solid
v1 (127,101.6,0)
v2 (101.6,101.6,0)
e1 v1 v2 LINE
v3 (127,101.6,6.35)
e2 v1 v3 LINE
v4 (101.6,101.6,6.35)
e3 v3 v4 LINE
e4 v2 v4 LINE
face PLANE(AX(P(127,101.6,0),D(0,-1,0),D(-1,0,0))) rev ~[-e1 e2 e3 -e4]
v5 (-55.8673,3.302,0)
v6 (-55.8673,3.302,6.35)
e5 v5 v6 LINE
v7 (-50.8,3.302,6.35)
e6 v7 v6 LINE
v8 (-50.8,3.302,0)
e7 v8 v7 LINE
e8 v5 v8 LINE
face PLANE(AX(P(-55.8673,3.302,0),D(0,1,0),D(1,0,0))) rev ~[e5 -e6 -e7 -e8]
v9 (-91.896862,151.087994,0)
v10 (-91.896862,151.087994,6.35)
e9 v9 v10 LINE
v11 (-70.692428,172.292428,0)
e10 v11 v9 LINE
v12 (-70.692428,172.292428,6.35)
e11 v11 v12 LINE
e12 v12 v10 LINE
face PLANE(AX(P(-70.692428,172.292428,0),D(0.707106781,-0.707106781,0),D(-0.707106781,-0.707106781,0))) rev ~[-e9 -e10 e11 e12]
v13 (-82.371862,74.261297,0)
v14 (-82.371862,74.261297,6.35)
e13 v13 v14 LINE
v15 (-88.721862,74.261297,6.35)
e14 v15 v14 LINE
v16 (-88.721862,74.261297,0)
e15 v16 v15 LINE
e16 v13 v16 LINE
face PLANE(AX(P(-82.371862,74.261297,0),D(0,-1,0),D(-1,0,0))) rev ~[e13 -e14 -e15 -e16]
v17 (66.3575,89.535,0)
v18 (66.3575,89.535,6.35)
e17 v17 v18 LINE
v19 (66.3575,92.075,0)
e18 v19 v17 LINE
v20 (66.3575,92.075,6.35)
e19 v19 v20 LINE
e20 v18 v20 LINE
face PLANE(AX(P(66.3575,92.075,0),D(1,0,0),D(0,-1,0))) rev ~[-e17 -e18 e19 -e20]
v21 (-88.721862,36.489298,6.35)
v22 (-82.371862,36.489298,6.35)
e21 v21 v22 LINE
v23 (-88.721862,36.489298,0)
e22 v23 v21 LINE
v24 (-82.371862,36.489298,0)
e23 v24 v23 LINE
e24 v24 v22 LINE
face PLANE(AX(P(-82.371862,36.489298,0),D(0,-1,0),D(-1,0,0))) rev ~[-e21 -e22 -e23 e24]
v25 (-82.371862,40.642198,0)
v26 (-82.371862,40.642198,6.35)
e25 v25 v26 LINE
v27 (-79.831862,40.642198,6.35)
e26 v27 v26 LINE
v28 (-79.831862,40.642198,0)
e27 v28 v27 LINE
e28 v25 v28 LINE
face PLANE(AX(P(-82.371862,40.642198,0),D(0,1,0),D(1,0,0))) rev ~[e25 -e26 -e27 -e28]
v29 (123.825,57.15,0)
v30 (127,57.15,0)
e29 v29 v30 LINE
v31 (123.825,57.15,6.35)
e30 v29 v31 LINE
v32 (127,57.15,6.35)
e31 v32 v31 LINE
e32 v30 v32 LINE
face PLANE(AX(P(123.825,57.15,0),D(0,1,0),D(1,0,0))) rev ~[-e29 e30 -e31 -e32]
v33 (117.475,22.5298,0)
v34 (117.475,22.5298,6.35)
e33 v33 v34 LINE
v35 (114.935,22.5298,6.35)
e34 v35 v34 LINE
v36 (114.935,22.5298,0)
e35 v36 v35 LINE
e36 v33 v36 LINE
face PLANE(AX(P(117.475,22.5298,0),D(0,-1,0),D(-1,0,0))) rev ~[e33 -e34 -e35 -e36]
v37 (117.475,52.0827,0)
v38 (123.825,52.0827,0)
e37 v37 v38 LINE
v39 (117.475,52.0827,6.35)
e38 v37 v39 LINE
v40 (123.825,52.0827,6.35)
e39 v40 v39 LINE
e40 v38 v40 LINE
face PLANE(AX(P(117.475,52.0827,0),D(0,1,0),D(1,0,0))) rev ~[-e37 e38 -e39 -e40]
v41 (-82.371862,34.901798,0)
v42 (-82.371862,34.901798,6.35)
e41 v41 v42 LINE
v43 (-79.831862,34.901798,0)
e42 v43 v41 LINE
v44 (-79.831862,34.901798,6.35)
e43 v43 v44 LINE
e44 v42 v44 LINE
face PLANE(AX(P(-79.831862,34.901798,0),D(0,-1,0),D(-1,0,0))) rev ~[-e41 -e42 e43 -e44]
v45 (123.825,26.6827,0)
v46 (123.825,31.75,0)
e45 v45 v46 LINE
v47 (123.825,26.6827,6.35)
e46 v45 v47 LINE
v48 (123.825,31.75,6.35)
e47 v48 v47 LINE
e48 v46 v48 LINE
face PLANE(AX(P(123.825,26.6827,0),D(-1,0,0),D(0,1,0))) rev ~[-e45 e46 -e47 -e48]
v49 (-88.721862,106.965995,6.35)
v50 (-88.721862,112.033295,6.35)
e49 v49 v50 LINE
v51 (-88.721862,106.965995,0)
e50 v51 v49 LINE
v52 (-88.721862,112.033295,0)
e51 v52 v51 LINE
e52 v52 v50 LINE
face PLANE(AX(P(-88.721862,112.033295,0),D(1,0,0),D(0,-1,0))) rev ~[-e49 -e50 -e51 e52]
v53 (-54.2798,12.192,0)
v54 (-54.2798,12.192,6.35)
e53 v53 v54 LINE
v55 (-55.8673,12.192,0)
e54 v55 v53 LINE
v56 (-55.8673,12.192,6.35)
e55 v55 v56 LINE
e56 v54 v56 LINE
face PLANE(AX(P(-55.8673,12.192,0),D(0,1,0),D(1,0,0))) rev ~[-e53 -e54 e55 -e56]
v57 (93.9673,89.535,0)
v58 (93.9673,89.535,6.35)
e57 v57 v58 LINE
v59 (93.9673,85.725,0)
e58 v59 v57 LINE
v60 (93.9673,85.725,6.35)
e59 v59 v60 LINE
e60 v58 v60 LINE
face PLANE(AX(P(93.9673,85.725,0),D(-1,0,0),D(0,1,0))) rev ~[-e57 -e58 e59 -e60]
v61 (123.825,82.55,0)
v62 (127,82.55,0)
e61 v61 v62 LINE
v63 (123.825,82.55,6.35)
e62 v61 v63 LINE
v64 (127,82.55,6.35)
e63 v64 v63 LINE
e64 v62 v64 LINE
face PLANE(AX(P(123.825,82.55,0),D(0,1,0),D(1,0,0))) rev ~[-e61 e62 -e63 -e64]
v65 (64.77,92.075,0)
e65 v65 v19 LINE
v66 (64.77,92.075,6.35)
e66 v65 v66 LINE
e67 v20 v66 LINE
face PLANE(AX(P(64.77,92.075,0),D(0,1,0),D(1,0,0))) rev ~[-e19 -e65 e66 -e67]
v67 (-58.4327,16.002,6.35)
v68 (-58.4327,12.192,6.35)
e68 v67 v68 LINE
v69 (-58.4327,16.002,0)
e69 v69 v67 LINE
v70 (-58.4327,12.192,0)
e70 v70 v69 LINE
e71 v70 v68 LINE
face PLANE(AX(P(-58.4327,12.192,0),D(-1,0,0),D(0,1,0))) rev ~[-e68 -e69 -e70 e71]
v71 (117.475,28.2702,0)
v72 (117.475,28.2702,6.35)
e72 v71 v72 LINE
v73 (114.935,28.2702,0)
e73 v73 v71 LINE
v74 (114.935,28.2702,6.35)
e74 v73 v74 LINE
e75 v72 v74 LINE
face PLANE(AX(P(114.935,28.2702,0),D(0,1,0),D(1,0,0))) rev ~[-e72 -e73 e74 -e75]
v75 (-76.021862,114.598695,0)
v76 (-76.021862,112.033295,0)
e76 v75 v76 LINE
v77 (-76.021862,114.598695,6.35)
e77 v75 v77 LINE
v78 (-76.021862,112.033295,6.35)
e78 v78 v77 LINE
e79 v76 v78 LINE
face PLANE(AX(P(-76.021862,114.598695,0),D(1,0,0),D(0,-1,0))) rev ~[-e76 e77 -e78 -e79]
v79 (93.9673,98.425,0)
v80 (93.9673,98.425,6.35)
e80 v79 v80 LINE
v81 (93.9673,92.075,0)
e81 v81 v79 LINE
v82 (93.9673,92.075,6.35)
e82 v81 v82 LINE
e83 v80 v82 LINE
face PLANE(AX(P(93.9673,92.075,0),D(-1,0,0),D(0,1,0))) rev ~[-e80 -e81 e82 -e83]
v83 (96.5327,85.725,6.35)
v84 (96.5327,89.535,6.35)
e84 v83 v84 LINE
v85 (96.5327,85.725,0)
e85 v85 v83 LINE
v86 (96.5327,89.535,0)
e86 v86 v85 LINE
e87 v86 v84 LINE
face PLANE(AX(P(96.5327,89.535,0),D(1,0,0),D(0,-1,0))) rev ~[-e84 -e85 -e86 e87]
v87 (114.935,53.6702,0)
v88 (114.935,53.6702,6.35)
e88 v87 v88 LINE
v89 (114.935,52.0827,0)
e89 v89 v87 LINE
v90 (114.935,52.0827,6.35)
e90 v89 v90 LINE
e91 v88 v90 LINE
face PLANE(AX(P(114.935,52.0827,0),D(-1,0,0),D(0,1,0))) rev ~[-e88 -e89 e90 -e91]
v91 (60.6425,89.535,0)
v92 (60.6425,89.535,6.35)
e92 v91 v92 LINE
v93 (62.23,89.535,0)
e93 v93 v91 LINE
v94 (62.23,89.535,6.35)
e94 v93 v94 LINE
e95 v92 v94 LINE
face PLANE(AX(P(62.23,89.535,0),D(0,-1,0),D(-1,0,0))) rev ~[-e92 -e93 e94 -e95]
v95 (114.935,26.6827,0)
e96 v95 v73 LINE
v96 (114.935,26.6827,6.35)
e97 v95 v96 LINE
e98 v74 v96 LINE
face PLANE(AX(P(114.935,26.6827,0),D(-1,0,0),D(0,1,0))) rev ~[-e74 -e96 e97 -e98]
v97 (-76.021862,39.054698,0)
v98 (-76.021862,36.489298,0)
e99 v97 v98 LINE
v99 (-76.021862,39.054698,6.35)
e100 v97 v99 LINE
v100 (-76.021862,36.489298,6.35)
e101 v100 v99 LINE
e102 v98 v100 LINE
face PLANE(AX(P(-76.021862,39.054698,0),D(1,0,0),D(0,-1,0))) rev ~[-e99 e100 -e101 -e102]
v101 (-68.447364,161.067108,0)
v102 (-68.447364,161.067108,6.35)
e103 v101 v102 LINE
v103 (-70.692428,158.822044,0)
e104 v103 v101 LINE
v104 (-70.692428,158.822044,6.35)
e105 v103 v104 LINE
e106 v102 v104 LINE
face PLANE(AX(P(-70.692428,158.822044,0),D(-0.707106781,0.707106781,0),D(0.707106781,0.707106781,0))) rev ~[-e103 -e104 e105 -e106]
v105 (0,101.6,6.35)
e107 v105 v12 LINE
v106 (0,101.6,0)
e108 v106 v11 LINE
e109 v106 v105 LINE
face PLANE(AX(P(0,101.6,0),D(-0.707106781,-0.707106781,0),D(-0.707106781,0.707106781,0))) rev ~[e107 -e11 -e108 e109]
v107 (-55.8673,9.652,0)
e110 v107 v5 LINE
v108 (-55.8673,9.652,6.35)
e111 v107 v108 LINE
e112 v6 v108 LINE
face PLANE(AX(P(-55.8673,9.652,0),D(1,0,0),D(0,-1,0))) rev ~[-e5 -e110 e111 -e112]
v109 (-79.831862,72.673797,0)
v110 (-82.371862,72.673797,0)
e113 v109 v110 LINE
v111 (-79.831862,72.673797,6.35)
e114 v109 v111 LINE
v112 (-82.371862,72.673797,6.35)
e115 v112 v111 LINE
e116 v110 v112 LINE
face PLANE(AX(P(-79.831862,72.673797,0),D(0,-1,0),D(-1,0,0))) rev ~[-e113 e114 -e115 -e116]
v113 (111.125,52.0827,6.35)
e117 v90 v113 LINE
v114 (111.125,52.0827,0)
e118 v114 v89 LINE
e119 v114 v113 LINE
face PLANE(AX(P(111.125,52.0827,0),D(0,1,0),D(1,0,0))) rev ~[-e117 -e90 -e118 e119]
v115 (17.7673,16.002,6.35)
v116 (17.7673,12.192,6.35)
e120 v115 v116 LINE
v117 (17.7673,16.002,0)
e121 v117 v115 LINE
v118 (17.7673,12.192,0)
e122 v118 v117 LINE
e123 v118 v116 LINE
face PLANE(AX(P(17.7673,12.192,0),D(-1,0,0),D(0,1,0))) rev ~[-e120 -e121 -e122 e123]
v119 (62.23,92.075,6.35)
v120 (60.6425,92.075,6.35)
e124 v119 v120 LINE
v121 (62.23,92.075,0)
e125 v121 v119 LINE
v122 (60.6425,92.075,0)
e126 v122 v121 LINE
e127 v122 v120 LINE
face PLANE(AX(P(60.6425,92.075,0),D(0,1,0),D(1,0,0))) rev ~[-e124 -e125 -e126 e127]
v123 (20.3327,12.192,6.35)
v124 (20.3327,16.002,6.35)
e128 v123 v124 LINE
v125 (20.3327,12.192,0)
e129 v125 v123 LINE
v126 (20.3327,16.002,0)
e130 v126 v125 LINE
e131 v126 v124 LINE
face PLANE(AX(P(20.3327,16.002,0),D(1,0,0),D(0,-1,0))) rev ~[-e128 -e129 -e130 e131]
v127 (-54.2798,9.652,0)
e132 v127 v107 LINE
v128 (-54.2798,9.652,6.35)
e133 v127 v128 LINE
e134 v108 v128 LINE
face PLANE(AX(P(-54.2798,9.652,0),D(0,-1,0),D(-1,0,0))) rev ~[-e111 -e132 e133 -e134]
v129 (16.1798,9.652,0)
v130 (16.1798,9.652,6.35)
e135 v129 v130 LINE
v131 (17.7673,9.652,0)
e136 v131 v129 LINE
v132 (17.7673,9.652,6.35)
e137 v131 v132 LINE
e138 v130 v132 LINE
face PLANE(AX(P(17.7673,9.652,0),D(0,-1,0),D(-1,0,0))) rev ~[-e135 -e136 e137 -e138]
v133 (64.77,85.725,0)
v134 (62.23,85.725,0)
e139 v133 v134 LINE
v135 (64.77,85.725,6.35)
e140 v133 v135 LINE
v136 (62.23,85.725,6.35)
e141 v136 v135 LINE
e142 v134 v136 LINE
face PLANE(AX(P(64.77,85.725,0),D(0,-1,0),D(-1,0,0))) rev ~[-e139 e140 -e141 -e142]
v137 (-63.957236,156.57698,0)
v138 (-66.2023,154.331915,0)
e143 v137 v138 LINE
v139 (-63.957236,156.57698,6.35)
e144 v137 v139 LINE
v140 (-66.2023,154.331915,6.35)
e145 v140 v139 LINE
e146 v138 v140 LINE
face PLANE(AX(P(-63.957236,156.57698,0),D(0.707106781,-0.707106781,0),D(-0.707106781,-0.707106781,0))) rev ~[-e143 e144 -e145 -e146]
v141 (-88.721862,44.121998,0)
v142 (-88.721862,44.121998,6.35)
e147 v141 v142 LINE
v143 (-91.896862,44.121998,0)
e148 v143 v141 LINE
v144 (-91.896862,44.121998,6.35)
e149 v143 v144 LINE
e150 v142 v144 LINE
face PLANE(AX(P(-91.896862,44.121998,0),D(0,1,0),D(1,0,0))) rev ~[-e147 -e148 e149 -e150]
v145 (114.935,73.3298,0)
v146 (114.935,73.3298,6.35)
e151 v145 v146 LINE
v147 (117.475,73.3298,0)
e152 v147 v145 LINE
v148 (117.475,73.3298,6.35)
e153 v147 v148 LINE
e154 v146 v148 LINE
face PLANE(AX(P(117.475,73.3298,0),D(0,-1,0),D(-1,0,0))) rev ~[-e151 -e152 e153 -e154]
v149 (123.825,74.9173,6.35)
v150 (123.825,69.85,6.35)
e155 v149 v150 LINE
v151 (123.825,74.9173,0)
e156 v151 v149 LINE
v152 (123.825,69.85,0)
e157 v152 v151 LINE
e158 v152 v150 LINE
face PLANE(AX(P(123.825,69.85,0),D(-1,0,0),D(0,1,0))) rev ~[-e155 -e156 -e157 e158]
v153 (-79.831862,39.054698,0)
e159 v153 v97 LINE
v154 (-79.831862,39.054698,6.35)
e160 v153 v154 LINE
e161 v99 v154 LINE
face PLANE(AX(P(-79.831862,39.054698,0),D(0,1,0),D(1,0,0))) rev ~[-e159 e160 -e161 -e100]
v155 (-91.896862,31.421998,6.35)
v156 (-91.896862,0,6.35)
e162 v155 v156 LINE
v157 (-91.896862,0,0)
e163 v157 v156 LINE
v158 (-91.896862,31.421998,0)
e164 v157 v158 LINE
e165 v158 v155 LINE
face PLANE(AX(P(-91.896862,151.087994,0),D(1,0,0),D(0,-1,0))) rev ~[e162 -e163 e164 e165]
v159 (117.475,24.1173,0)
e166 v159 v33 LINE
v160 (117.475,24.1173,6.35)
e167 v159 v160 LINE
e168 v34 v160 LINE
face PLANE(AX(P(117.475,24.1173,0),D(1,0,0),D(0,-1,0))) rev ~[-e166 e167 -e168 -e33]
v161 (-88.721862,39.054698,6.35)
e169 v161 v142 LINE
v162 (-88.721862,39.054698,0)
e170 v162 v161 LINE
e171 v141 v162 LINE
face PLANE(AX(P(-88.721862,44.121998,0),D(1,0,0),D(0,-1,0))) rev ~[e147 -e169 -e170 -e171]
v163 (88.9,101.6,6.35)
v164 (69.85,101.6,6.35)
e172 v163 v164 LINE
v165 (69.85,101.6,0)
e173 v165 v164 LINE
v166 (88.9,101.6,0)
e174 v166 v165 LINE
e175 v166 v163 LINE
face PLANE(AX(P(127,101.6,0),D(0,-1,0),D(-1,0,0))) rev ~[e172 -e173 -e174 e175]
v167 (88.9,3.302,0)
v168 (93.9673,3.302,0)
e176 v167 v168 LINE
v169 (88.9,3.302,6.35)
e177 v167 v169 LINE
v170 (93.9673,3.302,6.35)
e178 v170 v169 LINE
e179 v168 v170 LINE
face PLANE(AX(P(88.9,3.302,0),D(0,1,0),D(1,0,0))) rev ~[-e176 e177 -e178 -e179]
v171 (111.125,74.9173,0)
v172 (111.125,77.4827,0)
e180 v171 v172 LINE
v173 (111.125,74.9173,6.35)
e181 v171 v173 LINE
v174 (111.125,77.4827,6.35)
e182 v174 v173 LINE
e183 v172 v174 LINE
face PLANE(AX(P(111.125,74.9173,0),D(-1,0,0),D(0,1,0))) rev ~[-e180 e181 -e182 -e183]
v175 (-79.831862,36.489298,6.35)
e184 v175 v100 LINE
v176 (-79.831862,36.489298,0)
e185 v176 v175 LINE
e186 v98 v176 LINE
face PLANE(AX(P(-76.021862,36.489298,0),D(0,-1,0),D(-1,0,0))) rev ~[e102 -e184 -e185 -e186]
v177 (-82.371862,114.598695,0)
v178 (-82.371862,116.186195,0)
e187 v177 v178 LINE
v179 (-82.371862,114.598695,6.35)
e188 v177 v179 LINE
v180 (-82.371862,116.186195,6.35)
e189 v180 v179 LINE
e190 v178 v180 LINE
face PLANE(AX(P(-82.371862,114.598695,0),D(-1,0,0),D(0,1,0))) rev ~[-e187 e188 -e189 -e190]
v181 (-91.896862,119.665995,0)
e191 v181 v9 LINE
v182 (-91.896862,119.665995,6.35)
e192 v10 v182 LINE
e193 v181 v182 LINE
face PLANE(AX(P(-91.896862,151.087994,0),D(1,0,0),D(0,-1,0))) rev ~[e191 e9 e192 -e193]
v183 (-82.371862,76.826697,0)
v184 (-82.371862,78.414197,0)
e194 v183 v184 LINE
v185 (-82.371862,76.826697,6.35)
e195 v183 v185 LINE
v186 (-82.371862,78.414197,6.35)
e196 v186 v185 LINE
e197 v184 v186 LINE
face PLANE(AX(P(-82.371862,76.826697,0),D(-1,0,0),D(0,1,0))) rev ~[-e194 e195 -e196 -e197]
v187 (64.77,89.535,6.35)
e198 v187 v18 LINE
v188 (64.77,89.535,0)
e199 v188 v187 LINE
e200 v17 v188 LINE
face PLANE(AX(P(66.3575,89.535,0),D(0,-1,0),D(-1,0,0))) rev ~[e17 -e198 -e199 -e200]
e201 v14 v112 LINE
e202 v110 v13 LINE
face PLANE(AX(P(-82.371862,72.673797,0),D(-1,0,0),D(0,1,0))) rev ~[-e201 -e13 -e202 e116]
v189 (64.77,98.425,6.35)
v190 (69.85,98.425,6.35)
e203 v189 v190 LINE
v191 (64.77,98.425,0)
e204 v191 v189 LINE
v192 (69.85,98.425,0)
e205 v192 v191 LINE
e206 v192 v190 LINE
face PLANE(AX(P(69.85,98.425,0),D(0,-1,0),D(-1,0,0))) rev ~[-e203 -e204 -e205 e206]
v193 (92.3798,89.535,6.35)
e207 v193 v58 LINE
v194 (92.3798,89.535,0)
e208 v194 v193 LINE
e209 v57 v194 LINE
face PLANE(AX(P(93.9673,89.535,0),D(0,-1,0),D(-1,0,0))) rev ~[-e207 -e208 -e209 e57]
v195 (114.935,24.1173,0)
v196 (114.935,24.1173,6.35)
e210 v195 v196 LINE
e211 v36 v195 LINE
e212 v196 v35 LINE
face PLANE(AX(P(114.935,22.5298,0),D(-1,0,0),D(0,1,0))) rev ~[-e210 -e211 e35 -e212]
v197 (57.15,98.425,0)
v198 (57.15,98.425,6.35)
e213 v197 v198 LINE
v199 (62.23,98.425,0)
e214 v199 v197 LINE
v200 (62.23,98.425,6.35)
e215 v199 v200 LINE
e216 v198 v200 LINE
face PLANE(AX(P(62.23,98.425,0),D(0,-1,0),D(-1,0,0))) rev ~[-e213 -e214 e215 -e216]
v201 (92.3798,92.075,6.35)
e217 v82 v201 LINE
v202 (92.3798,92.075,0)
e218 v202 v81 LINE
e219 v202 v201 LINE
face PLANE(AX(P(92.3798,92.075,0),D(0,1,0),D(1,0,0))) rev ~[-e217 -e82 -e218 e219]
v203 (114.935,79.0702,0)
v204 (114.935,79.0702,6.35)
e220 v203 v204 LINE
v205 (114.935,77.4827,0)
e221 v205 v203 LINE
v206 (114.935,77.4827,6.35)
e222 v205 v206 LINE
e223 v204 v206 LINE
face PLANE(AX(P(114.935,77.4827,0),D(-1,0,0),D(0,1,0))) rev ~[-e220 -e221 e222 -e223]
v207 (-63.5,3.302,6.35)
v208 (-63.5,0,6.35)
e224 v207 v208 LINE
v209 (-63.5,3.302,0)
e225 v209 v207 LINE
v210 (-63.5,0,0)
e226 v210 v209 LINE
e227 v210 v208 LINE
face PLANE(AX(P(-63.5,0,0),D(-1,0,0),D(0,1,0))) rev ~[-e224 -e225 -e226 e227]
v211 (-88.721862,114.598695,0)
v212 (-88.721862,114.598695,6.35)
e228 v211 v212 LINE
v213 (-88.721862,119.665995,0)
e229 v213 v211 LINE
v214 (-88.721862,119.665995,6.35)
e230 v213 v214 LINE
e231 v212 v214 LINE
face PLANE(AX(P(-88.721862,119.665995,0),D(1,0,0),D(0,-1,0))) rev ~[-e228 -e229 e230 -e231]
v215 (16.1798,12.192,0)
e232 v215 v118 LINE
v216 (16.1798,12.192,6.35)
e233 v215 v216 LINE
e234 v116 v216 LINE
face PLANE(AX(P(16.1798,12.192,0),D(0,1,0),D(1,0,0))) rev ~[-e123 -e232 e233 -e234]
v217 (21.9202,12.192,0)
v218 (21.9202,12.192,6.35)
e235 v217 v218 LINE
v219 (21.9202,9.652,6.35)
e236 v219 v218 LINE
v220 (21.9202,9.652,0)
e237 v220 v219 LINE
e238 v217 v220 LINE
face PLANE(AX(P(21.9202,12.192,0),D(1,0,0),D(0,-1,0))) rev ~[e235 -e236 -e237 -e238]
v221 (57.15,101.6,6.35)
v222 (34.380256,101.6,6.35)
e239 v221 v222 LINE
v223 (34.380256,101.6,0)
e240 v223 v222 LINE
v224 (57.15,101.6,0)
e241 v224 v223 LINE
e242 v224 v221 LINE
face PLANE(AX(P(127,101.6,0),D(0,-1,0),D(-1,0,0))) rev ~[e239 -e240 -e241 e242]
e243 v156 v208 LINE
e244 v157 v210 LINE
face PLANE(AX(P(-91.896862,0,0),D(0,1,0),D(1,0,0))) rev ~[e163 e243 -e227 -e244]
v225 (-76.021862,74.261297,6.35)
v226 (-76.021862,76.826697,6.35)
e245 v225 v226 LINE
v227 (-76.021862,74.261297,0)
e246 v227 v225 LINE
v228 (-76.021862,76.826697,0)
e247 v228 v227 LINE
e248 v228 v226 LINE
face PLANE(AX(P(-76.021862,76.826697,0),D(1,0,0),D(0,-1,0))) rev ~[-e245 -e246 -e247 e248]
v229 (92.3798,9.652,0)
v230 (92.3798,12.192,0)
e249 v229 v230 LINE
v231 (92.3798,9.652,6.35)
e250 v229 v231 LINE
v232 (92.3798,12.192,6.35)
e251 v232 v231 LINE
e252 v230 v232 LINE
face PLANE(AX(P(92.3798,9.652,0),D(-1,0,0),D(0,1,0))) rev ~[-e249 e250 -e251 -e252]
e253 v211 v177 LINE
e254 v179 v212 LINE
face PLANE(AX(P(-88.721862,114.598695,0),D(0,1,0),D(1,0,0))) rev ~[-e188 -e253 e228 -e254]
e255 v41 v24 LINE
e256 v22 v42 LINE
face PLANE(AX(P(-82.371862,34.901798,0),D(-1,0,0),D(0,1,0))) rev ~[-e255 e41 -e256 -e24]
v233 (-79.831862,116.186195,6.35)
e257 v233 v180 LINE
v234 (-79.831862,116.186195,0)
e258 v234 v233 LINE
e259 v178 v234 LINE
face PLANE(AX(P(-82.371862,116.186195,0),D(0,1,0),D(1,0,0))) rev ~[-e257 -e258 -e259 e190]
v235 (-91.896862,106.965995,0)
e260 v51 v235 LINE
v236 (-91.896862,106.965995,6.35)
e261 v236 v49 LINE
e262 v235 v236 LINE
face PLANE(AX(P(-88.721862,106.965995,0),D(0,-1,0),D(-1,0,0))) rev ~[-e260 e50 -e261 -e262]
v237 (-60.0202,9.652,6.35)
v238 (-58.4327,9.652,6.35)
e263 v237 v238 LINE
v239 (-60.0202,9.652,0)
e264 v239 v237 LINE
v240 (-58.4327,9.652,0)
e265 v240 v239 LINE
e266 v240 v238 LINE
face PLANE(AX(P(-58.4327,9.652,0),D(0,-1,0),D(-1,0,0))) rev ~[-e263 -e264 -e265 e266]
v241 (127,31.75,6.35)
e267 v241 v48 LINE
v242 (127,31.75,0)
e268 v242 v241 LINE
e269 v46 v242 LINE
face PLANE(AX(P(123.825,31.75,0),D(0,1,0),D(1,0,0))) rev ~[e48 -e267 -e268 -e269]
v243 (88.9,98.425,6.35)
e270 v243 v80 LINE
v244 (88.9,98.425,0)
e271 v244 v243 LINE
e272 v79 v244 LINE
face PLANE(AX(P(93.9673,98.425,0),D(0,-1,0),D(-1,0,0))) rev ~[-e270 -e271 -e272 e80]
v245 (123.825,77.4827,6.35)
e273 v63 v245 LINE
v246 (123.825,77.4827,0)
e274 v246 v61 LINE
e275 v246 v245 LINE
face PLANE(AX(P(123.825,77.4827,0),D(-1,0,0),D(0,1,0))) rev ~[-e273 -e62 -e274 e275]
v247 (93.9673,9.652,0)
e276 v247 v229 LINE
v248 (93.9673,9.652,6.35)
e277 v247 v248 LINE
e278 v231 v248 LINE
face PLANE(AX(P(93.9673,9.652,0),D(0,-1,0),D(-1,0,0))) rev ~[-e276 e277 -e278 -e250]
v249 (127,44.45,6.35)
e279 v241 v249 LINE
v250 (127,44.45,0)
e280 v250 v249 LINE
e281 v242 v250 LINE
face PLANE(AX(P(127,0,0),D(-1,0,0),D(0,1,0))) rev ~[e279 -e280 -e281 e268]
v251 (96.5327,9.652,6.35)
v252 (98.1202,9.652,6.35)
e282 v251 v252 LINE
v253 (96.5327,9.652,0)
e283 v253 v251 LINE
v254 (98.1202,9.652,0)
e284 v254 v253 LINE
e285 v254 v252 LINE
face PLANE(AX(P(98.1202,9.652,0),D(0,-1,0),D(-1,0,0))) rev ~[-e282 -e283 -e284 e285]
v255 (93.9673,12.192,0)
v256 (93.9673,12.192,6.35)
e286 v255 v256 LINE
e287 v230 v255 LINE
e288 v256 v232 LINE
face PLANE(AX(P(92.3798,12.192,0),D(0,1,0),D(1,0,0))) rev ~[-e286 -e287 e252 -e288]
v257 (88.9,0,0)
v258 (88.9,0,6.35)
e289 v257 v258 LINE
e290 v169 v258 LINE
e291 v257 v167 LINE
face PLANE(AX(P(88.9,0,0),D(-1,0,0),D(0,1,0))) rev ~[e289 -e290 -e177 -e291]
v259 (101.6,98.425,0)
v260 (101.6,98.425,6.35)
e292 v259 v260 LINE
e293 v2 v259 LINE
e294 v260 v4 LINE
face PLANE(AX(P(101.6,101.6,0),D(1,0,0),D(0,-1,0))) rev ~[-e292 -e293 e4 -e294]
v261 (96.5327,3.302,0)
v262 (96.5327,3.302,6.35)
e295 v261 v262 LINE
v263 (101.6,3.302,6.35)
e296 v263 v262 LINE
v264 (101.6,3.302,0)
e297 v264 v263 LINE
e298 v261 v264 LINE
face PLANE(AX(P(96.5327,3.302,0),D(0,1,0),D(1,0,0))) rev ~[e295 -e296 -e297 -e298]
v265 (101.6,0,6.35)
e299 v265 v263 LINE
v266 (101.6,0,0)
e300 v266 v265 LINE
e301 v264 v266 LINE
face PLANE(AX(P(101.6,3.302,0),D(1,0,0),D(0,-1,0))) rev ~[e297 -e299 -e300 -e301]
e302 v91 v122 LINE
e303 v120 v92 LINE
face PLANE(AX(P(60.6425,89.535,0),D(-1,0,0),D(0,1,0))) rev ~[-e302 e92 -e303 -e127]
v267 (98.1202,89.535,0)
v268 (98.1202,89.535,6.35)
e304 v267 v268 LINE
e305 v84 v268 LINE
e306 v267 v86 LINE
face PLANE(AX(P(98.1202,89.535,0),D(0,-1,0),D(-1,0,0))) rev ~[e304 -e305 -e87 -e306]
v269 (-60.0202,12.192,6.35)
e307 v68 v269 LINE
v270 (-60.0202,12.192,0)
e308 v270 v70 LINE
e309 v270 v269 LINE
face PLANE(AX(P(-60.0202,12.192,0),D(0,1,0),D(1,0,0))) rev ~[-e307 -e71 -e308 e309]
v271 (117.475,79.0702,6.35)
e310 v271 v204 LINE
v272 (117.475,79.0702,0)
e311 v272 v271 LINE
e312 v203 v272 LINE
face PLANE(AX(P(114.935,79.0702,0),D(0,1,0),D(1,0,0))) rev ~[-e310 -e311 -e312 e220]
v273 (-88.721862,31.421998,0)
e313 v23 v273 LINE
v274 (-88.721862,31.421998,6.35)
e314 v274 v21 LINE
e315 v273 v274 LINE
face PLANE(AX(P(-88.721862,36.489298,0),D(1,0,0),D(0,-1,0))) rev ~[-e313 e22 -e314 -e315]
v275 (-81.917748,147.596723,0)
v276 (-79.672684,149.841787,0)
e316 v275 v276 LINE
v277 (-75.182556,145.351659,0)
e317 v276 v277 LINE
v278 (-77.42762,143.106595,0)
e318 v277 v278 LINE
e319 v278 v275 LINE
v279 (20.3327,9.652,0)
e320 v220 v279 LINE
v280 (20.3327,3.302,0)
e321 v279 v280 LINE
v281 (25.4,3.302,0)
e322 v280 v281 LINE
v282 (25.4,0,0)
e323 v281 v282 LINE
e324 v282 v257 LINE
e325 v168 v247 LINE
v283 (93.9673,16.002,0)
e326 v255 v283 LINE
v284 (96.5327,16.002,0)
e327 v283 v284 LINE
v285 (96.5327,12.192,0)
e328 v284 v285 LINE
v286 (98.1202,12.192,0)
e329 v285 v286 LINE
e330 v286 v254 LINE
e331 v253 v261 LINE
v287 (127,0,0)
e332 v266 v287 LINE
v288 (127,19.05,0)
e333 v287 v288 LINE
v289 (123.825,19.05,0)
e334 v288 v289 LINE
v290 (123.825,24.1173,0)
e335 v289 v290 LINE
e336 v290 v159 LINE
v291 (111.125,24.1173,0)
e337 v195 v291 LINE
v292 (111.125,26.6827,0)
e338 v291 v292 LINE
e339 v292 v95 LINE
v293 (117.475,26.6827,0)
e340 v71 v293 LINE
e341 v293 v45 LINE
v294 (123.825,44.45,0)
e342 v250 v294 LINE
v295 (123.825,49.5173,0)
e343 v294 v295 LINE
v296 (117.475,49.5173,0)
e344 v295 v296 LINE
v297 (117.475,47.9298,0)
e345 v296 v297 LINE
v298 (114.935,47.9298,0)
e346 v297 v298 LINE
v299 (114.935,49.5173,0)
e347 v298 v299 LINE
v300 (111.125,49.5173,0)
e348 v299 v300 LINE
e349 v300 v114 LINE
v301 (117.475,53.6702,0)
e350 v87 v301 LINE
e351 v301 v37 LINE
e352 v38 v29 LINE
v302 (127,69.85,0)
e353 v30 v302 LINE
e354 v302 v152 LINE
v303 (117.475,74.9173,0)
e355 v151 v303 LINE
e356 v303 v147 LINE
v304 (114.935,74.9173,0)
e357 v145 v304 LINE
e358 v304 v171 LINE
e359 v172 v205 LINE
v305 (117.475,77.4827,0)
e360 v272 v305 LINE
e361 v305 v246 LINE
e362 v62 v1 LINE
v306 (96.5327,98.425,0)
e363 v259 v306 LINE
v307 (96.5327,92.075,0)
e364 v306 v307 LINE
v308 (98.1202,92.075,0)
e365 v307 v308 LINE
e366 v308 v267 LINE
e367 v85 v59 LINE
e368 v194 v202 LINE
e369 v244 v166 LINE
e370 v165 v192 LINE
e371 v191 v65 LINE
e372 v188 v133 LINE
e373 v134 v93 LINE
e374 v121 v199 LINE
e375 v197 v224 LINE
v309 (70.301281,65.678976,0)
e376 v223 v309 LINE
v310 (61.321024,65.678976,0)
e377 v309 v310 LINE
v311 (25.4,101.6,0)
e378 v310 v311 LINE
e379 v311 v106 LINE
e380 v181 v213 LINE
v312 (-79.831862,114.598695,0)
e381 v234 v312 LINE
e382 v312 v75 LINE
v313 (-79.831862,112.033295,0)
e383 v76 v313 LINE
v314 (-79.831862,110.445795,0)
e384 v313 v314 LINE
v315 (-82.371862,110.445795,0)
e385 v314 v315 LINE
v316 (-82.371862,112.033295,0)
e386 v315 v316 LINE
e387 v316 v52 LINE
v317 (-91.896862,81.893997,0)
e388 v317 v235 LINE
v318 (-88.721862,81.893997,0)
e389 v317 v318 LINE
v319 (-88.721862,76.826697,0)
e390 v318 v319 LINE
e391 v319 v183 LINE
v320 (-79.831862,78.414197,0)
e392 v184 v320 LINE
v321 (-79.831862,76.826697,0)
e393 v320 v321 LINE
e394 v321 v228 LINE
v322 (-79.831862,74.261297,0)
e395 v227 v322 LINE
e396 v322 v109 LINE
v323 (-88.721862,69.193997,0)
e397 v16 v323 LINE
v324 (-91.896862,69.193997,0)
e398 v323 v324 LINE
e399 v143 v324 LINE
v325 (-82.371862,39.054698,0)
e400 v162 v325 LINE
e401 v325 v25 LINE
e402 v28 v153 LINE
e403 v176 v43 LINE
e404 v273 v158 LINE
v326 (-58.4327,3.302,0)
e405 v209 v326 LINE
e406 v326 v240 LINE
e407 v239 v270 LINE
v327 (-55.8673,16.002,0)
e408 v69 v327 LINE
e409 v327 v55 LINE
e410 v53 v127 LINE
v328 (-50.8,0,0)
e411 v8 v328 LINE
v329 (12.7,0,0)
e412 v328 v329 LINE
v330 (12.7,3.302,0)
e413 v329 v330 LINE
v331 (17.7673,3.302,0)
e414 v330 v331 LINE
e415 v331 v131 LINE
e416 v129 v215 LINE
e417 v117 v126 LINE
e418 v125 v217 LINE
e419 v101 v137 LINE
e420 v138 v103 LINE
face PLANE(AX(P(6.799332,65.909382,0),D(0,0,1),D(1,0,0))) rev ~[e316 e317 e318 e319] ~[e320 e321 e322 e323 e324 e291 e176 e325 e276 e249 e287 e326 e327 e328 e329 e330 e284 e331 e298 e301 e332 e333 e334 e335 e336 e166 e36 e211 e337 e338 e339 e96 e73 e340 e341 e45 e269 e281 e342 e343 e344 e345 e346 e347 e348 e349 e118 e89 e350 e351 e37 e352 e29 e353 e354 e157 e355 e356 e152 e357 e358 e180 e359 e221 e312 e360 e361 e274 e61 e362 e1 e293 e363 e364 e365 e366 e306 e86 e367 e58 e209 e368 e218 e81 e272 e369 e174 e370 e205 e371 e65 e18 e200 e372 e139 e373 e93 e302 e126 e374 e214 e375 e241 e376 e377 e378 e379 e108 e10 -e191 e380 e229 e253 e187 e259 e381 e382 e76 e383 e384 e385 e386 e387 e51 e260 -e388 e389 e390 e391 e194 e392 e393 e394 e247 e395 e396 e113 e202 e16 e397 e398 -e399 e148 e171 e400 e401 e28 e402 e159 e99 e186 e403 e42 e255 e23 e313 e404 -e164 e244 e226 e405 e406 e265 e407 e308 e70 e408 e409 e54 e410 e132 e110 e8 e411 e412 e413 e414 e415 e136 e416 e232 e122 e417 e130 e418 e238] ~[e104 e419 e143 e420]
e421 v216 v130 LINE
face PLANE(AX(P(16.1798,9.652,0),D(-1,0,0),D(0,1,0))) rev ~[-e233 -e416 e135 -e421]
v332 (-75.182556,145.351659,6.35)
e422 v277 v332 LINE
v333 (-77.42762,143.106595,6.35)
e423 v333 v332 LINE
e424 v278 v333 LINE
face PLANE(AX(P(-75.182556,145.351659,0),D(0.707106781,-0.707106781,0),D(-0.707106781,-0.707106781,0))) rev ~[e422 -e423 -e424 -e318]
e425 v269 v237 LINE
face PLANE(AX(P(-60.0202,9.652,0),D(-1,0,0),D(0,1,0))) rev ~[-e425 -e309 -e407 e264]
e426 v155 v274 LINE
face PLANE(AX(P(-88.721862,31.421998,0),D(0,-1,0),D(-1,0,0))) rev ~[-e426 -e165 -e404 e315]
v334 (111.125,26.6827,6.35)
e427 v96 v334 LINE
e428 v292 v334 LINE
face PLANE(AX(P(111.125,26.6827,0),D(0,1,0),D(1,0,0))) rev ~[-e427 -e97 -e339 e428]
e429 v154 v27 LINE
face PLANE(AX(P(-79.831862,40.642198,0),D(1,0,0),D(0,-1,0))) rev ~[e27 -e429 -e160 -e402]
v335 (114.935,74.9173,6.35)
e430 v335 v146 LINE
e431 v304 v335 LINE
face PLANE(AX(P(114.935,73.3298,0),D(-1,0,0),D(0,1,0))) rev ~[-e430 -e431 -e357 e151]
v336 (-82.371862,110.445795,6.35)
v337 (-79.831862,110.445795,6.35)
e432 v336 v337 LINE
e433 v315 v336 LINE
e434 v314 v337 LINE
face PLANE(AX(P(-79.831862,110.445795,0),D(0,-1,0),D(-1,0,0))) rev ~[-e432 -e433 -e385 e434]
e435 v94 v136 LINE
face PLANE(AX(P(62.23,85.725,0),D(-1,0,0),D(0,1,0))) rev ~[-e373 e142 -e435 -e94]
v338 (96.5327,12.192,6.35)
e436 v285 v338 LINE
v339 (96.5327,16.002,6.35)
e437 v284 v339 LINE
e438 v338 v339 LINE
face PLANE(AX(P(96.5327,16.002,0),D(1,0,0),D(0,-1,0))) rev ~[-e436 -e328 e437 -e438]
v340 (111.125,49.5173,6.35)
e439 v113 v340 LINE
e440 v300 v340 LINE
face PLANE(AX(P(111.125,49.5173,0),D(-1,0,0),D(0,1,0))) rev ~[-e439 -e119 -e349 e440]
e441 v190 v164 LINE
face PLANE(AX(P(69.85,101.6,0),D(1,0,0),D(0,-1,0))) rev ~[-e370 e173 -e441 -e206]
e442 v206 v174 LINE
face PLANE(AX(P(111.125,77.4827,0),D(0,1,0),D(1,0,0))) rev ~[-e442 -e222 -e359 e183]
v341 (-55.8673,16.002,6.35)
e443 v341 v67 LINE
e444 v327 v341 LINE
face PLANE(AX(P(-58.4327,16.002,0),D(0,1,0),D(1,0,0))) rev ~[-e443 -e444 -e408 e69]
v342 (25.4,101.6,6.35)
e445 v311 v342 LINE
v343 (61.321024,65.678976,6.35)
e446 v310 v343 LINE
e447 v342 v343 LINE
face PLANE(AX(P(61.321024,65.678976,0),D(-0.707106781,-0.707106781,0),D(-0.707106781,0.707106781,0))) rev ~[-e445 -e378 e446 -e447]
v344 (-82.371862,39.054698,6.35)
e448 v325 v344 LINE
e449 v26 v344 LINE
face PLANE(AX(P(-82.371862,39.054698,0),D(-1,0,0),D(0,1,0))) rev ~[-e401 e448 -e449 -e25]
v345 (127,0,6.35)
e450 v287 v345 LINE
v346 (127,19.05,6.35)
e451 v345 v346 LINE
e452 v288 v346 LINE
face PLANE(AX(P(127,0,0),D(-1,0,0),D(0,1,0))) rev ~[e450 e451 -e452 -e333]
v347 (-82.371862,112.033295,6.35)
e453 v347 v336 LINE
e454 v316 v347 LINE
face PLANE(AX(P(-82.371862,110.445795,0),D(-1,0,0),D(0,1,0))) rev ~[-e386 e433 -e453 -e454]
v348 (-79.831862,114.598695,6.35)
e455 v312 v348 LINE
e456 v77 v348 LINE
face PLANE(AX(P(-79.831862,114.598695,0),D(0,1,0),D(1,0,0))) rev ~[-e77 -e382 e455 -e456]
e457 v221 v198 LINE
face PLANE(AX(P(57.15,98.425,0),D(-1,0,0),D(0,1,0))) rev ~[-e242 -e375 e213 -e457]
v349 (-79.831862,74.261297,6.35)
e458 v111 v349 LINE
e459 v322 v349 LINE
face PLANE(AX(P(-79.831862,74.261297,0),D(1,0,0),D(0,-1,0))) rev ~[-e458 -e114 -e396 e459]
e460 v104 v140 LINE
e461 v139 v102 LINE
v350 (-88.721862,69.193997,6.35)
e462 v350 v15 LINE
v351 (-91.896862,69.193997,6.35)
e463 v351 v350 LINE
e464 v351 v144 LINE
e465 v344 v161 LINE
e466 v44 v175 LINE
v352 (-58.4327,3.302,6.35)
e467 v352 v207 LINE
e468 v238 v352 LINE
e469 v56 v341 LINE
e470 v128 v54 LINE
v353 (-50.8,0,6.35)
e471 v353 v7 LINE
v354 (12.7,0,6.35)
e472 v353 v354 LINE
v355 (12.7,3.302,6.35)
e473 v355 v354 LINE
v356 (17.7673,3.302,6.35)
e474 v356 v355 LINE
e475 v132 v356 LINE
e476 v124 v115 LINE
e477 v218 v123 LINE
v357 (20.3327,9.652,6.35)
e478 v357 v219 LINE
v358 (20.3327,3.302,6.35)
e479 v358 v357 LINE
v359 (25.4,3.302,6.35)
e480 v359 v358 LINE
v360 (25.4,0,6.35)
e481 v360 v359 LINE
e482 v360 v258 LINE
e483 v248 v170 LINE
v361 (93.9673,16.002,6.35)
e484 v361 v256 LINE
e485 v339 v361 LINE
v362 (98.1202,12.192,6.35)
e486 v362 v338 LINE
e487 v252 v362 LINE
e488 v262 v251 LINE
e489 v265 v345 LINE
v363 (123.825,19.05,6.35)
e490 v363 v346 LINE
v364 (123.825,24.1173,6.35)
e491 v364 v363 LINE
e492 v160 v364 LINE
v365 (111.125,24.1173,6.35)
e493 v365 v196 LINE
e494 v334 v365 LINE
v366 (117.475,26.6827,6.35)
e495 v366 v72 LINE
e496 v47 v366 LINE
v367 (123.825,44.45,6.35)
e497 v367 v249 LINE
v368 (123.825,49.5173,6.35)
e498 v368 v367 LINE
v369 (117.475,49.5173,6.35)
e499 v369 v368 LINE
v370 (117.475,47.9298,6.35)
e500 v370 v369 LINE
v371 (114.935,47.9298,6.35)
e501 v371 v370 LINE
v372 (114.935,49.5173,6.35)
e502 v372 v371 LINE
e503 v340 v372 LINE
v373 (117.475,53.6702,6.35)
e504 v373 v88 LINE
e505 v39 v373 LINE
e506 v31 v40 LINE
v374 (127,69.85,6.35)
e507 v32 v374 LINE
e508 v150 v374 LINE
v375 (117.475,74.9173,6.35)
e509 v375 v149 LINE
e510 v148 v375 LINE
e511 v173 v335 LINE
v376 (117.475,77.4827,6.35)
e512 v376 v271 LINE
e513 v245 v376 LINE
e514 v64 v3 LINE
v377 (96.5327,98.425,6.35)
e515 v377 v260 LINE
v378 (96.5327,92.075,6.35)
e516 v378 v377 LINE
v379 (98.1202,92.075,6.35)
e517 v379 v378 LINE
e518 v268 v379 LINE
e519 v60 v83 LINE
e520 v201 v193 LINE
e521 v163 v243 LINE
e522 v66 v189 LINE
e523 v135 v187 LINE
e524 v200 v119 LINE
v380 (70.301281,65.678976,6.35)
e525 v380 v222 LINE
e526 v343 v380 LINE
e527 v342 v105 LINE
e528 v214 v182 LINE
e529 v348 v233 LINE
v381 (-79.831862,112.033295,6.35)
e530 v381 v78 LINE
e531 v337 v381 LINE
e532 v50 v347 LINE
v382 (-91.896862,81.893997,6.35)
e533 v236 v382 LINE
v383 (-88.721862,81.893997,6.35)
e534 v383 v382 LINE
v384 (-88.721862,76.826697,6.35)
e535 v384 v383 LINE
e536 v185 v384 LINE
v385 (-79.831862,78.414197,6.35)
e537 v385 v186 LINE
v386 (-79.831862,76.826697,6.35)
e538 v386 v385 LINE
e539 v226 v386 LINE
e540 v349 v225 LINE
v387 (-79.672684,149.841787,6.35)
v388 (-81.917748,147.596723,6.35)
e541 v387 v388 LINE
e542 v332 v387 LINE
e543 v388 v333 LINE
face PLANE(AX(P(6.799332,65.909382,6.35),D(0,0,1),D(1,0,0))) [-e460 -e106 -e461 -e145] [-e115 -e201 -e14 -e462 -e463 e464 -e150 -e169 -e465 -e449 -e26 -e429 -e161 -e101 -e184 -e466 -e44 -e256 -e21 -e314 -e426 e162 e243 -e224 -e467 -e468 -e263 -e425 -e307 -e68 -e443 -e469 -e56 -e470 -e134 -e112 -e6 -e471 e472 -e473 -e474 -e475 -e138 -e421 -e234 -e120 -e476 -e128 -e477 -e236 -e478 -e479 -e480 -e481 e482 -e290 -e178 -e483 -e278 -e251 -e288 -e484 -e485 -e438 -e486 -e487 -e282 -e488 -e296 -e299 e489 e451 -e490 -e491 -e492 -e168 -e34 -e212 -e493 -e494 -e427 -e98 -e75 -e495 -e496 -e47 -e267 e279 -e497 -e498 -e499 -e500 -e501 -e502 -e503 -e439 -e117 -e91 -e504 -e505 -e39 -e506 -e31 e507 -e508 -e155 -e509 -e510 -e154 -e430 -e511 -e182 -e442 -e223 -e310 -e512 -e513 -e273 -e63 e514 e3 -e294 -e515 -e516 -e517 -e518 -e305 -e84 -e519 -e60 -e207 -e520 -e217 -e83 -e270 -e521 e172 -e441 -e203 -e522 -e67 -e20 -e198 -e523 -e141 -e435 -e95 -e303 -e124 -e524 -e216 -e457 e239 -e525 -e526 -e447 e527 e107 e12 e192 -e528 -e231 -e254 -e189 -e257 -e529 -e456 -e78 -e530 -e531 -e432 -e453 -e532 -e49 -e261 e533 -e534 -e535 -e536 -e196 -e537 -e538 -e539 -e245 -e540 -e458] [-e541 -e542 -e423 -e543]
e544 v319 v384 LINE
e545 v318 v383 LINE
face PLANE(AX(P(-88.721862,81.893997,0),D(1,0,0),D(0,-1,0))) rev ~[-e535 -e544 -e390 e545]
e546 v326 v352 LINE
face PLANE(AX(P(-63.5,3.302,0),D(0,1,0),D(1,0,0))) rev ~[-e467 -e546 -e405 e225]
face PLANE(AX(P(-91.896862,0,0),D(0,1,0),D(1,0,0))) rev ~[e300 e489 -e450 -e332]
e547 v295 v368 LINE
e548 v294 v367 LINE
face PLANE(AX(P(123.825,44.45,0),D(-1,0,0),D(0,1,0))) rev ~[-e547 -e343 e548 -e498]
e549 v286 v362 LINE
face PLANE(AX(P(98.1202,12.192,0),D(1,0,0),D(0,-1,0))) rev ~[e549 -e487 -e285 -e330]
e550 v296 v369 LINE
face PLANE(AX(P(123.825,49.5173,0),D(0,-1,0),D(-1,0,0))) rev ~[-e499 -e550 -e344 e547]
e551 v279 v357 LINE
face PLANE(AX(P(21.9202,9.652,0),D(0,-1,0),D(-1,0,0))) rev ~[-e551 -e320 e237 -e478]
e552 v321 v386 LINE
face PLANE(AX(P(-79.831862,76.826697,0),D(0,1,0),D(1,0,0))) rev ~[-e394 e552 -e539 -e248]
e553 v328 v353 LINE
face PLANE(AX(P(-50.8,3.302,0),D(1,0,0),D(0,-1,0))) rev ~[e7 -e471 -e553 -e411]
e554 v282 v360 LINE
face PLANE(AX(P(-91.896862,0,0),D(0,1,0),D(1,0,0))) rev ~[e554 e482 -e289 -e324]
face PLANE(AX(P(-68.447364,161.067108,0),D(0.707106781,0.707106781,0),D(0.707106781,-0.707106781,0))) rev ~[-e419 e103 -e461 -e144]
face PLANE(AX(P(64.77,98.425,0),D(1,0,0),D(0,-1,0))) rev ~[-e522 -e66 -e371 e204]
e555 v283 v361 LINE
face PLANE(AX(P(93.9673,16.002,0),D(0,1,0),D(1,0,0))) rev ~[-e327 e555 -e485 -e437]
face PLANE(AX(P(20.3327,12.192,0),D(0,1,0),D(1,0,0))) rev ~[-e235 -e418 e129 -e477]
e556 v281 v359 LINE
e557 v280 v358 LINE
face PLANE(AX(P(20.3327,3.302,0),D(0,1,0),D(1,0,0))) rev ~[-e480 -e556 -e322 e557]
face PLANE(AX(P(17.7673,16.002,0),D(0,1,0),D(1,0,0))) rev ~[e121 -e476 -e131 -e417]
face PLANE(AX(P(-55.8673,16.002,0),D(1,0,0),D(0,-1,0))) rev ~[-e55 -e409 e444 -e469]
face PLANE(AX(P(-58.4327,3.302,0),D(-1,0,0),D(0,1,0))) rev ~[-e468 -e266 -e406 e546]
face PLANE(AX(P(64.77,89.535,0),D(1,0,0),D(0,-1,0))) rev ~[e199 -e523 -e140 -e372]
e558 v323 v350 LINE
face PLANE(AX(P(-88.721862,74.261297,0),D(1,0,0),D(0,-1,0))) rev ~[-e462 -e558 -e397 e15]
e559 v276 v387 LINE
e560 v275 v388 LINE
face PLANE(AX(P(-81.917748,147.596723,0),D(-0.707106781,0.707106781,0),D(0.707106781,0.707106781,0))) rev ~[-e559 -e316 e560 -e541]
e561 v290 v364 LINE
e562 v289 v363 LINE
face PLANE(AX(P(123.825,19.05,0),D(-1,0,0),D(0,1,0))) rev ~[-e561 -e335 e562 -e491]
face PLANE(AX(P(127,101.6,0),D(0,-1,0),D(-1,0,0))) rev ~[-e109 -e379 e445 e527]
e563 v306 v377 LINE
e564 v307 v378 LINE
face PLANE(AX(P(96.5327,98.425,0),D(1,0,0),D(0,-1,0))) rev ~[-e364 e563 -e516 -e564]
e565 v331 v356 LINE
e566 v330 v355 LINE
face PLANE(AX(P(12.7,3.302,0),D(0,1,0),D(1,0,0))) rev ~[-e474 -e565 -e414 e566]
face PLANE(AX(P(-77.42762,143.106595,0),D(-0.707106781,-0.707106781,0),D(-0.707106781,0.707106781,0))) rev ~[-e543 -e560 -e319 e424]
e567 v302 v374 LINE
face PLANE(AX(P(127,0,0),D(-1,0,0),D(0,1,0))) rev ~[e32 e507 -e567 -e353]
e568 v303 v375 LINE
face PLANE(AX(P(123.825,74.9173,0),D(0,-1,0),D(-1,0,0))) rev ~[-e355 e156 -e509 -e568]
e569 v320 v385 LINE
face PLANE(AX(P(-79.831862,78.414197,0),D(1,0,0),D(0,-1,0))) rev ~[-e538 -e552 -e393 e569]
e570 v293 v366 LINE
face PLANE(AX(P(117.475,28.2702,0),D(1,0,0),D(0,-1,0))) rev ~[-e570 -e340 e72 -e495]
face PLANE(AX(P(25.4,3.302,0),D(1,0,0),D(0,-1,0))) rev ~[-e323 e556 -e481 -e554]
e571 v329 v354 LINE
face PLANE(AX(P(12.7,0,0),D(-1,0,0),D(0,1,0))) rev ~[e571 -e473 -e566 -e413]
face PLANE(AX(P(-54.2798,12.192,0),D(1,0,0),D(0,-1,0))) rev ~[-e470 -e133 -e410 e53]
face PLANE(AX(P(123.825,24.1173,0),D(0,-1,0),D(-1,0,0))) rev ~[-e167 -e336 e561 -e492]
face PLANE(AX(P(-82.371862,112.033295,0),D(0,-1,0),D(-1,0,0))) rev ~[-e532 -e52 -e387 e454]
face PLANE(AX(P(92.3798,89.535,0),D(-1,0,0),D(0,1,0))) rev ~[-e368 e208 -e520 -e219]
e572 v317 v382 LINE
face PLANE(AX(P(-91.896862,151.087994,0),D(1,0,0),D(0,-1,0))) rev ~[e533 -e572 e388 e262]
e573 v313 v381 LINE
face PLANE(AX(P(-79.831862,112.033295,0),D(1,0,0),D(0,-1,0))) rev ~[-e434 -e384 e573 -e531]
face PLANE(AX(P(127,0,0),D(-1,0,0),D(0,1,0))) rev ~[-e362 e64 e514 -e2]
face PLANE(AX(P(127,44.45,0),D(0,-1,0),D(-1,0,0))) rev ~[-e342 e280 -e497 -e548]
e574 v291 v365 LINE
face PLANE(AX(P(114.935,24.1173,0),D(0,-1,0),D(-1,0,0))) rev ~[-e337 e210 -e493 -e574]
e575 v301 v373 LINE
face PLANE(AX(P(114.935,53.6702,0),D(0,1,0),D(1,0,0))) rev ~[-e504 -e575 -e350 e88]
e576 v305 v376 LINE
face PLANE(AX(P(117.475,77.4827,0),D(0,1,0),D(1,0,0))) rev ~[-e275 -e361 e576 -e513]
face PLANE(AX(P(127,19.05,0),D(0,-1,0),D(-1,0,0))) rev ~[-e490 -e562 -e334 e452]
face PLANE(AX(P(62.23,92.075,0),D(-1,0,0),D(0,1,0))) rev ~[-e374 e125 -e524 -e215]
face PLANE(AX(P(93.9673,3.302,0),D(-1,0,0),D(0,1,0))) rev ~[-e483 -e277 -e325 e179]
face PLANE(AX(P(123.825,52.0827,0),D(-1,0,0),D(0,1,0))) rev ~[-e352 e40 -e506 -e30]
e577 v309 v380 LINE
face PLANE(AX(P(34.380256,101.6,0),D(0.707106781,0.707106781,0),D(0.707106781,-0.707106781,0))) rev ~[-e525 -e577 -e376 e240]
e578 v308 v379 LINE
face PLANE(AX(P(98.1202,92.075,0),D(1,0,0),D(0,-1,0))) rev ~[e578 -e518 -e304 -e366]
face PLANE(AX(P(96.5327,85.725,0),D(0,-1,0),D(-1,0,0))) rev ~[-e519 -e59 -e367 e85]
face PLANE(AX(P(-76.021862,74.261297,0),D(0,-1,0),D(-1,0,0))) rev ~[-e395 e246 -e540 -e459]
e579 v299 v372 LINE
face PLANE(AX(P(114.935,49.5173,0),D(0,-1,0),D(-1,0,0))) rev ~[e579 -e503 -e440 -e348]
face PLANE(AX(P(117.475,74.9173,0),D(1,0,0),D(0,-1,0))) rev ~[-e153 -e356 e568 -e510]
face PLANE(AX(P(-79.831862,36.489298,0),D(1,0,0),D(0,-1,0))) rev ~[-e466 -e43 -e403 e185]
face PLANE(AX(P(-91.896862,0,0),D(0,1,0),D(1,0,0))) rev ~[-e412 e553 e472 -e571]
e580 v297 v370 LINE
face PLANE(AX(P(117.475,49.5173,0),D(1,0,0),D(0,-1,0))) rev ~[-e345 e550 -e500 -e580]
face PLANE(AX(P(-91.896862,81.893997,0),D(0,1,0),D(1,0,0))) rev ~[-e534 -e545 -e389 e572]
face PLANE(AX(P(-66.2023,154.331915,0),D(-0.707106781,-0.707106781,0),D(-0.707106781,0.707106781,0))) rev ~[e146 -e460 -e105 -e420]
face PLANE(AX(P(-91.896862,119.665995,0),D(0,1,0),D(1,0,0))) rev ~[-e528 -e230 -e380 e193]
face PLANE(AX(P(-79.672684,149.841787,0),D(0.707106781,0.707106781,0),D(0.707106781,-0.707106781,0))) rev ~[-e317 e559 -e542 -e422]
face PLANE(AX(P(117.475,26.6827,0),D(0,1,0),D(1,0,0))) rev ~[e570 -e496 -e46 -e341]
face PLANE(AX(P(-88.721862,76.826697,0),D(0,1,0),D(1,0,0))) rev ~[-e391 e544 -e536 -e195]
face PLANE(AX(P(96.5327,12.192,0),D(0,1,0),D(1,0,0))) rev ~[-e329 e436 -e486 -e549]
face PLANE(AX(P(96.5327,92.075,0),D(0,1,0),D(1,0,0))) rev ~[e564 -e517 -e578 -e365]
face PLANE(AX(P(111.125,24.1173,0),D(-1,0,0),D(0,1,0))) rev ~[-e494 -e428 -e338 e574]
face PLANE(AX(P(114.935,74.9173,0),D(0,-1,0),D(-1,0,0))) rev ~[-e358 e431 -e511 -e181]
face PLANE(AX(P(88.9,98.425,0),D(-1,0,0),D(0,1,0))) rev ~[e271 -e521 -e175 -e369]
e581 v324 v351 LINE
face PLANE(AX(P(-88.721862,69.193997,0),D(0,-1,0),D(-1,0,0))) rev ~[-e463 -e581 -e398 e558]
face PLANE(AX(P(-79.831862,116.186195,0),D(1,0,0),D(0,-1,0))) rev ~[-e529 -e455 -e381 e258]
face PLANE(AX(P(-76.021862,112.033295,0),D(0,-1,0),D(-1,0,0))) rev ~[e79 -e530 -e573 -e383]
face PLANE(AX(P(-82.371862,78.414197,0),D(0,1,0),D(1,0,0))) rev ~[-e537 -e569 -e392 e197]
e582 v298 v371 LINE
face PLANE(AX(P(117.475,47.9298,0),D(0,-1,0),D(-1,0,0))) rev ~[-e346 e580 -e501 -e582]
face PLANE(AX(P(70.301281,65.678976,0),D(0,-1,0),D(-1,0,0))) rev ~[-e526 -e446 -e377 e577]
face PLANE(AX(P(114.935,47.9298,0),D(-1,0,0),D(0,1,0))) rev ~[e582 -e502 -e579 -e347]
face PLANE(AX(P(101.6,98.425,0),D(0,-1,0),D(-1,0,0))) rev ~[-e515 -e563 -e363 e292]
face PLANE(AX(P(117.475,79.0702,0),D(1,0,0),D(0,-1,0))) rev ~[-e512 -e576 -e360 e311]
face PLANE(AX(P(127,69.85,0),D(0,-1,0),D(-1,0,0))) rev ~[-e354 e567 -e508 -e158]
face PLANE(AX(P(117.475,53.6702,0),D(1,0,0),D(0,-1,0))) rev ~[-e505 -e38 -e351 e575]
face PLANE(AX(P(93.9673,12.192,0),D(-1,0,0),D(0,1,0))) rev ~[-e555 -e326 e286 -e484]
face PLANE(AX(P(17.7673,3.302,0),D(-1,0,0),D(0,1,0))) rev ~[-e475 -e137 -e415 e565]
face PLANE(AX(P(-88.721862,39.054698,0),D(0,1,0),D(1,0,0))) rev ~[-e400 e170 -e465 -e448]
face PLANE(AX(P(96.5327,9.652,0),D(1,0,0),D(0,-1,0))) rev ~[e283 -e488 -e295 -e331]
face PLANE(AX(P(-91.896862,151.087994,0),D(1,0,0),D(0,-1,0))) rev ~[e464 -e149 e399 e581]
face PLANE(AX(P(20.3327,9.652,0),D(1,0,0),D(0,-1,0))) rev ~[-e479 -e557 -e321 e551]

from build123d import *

# Parameters (mm, degrees)
BOSS_EXTRUDE1_DEPTH     = 6.35
CUT_EXTRUDE2_DEPTH      = 2.54
CUT_EXTRUDE2_DEPTH_BACK = 127
CUT_EXTRUDE4_DEPTH      = 127
CUT_EXTRUDE4_DEPTH_BACK = 127
CUT_EXTRUDE5_DEPTH      = 127
CUT_EXTRUDE5_DEPTH_BACK = 127


with BuildPart() as part:
    # Sketch1 → Boss-Extrude1 (new body)
    with BuildSketch(Plane.XY):
        Polygon((0, 0), (127, 0), (127, 101.6), (0, 101.6), (-70.692427737, 172.292427737), (-91.896861793, 151.087993682), (-91.896861793, 0), align=None)
    extrude(amount=BOSS_EXTRUDE1_DEPTH)

    # Sketch2 → Cut-Extrude2 (cut, two sides: drawn at the far end of the back side and taken through both)
    with BuildSketch(Plane(origin=(0, 0, 0), x_dir=(-1, 0, 0), z_dir=(0, 0, -1)).offset(-CUT_EXTRUDE2_DEPTH_BACK)):
        Polygon((-61.321024484, 65.678975516), (-25.4, 101.6), (-34.380256106, 101.6), (-52.340768348, 83.639487758), (-70.30128059, 65.678975516), align=None)
    extrude(amount=CUT_EXTRUDE2_DEPTH + CUT_EXTRUDE2_DEPTH_BACK, mode=Mode.SUBTRACT)

    # Sketch3 → Cut-Extrude4 (cut, two sides: drawn at the far end of the back side and taken through both)
    with BuildSketch(Plane(origin=(0, 0, 0), x_dir=(-1, 0, 0), z_dir=(0, 0, -1)).offset(-CUT_EXTRUDE4_DEPTH_BACK)):
        Polygon((68.447363707, 161.067107586), (63.957235647, 156.576979525), (66.202299677, 154.331915495), (70.692427737, 158.822043556), align=None)
        Polygon((-127, 31.75), (-127, 19.05), (-123.825, 19.05), (-123.825, 24.1173), (-117.475, 24.1173), (-117.475, 22.5298), (-114.935, 22.5298), (-114.935, 24.1173), (-111.125, 24.1173), (-111.125, 26.6827), (-114.935, 26.6827), (-114.935, 28.2702), (-117.475, 28.2702), (-117.475, 26.6827), (-123.825, 26.6827), (-123.825, 31.75), align=None)
        Polygon((-57.15, 101.6), (-69.85, 101.6), (-69.85, 98.425), (-64.77, 98.425), (-64.77, 92.075), (-66.3575, 92.075), (-66.3575, 89.535), (-64.77, 89.535), (-64.77, 85.725), (-62.23, 85.725), (-62.23, 89.535), (-60.6425, 89.535), (-60.6425, 92.075), (-62.23, 92.075), (-62.23, 98.425), (-57.15, 98.425), align=None)
        Polygon((-88.9, 101.6), (-101.6, 101.6), (-101.6, 98.425), (-96.5327, 98.425), (-96.5327, 92.075), (-98.1202, 92.075), (-98.1202, 89.535), (-96.5327, 89.535), (-96.5327, 85.725), (-93.9673, 85.725), (-93.9673, 89.535), (-92.3798, 89.535), (-92.3798, 92.075), (-93.9673, 92.075), (-93.9673, 98.425), (-88.9, 98.425), align=None)
        Polygon((-127, 82.55), (-127, 69.85), (-123.825, 69.85), (-123.825, 74.9173), (-117.475, 74.9173), (-117.475, 73.3298), (-114.935, 73.3298), (-114.935, 74.9173), (-111.125, 74.9173), (-111.125, 77.4827), (-114.935, 77.4827), (-114.935, 79.0702), (-117.475, 79.0702), (-117.475, 77.4827), (-123.825, 77.4827), (-123.825, 82.55), align=None)
        Polygon((-127, 57.15), (-127, 44.45), (-123.825, 44.45), (-123.825, 49.5173), (-117.475, 49.5173), (-117.475, 47.9298), (-114.935, 47.9298), (-114.935, 49.5173), (-111.125, 49.5173), (-111.125, 52.0827), (-114.935, 52.0827), (-114.935, 53.6702), (-117.475, 53.6702), (-117.475, 52.0827), (-123.825, 52.0827), (-123.825, 57.15), align=None)
        Polygon((88.721861793, 106.965995261), (91.896861793, 106.965995261), (91.896861793, 119.665995261), (88.721861793, 119.665995261), (88.721861793, 114.598695261), (82.371861793, 114.598695261), (82.371861793, 116.186195261), (79.831861793, 116.186195261), (79.831861793, 114.598695261), (76.021861793, 114.598695261), (76.021861793, 112.033295261), (79.831861793, 112.033295261), (79.831861793, 110.445795261), (82.371861793, 110.445795261), (82.371861793, 112.033295261), (88.721861793, 112.033295261), align=None)
        Polygon((88.721861793, 69.193996841), (91.896861793, 69.193996841), (91.896861793, 81.893996841), (88.721861793, 81.893996841), (88.721861793, 76.826696841), (82.371861793, 76.826696841), (82.371861793, 78.414196841), (79.831861793, 78.414196841), (79.831861793, 76.826696841), (76.021861793, 76.826696841), (76.021861793, 74.261296841), (79.831861793, 74.261296841), (79.831861793, 72.673796841), (82.371861793, 72.673796841), (82.371861793, 74.261296841), (88.721861793, 74.261296841), align=None)
        Polygon((88.721861793, 31.42199842), (91.896861793, 31.42199842), (91.896861793, 44.12199842), (88.721861793, 44.12199842), (88.721861793, 39.05469842), (82.371861793, 39.05469842), (82.371861793, 40.64219842), (79.831861793, 40.64219842), (79.831861793, 39.05469842), (76.021861793, 39.05469842), (76.021861793, 36.48929842), (79.831861793, 36.48929842), (79.831861793, 34.90179842), (82.371861793, 34.90179842), (82.371861793, 36.48929842), (88.721861793, 36.48929842), align=None)
        Polygon((50.8, 3.302), (50.8, 0), (63.5, 0), (63.5, 3.302), (58.4327, 3.302), (58.4327, 9.652), (60.0202, 9.652), (60.0202, 12.192), (58.4327, 12.192), (58.4327, 16.002), (55.8673, 16.002), (55.8673, 12.192), (54.2798, 12.192), (54.2798, 9.652), (55.8673, 9.652), (55.8673, 3.302), align=None)
        Polygon((-25.4, 3.302), (-25.4, 0), (-12.7, 0), (-12.7, 3.302), (-17.7673, 3.302), (-17.7673, 9.652), (-16.1798, 9.652), (-16.1798, 12.192), (-17.7673, 12.192), (-17.7673, 16.002), (-20.3327, 16.002), (-20.3327, 12.192), (-21.9202, 12.192), (-21.9202, 9.652), (-20.3327, 9.652), (-20.3327, 3.302), align=None)
        Polygon((-101.6, 3.302), (-101.6, 0), (-88.9, 0), (-88.9, 3.302), (-93.9673, 3.302), (-93.9673, 9.652), (-92.3798, 9.652), (-92.3798, 12.192), (-93.9673, 12.192), (-93.9673, 16.002), (-96.5327, 16.002), (-96.5327, 12.192), (-98.1202, 12.192), (-98.1202, 9.652), (-96.5327, 9.652), (-96.5327, 3.302), align=None)
    extrude(amount=CUT_EXTRUDE4_DEPTH + CUT_EXTRUDE4_DEPTH_BACK, mode=Mode.SUBTRACT)

    # Sketch4 → Cut-Extrude5 (cut, two sides: drawn at the far end of the back side and taken through both)
    with BuildSketch(Plane.XY.offset(-CUT_EXTRUDE5_DEPTH_BACK)):
        Polygon((-81.917747889, 147.596723404), (-79.672683858, 149.841787435), (-75.182555798, 145.351659374), (-77.427619828, 143.106595344), align=None)
    extrude(amount=CUT_EXTRUDE5_DEPTH + CUT_EXTRUDE5_DEPTH_BACK, mode=Mode.SUBTRACT)


solid = part.part
